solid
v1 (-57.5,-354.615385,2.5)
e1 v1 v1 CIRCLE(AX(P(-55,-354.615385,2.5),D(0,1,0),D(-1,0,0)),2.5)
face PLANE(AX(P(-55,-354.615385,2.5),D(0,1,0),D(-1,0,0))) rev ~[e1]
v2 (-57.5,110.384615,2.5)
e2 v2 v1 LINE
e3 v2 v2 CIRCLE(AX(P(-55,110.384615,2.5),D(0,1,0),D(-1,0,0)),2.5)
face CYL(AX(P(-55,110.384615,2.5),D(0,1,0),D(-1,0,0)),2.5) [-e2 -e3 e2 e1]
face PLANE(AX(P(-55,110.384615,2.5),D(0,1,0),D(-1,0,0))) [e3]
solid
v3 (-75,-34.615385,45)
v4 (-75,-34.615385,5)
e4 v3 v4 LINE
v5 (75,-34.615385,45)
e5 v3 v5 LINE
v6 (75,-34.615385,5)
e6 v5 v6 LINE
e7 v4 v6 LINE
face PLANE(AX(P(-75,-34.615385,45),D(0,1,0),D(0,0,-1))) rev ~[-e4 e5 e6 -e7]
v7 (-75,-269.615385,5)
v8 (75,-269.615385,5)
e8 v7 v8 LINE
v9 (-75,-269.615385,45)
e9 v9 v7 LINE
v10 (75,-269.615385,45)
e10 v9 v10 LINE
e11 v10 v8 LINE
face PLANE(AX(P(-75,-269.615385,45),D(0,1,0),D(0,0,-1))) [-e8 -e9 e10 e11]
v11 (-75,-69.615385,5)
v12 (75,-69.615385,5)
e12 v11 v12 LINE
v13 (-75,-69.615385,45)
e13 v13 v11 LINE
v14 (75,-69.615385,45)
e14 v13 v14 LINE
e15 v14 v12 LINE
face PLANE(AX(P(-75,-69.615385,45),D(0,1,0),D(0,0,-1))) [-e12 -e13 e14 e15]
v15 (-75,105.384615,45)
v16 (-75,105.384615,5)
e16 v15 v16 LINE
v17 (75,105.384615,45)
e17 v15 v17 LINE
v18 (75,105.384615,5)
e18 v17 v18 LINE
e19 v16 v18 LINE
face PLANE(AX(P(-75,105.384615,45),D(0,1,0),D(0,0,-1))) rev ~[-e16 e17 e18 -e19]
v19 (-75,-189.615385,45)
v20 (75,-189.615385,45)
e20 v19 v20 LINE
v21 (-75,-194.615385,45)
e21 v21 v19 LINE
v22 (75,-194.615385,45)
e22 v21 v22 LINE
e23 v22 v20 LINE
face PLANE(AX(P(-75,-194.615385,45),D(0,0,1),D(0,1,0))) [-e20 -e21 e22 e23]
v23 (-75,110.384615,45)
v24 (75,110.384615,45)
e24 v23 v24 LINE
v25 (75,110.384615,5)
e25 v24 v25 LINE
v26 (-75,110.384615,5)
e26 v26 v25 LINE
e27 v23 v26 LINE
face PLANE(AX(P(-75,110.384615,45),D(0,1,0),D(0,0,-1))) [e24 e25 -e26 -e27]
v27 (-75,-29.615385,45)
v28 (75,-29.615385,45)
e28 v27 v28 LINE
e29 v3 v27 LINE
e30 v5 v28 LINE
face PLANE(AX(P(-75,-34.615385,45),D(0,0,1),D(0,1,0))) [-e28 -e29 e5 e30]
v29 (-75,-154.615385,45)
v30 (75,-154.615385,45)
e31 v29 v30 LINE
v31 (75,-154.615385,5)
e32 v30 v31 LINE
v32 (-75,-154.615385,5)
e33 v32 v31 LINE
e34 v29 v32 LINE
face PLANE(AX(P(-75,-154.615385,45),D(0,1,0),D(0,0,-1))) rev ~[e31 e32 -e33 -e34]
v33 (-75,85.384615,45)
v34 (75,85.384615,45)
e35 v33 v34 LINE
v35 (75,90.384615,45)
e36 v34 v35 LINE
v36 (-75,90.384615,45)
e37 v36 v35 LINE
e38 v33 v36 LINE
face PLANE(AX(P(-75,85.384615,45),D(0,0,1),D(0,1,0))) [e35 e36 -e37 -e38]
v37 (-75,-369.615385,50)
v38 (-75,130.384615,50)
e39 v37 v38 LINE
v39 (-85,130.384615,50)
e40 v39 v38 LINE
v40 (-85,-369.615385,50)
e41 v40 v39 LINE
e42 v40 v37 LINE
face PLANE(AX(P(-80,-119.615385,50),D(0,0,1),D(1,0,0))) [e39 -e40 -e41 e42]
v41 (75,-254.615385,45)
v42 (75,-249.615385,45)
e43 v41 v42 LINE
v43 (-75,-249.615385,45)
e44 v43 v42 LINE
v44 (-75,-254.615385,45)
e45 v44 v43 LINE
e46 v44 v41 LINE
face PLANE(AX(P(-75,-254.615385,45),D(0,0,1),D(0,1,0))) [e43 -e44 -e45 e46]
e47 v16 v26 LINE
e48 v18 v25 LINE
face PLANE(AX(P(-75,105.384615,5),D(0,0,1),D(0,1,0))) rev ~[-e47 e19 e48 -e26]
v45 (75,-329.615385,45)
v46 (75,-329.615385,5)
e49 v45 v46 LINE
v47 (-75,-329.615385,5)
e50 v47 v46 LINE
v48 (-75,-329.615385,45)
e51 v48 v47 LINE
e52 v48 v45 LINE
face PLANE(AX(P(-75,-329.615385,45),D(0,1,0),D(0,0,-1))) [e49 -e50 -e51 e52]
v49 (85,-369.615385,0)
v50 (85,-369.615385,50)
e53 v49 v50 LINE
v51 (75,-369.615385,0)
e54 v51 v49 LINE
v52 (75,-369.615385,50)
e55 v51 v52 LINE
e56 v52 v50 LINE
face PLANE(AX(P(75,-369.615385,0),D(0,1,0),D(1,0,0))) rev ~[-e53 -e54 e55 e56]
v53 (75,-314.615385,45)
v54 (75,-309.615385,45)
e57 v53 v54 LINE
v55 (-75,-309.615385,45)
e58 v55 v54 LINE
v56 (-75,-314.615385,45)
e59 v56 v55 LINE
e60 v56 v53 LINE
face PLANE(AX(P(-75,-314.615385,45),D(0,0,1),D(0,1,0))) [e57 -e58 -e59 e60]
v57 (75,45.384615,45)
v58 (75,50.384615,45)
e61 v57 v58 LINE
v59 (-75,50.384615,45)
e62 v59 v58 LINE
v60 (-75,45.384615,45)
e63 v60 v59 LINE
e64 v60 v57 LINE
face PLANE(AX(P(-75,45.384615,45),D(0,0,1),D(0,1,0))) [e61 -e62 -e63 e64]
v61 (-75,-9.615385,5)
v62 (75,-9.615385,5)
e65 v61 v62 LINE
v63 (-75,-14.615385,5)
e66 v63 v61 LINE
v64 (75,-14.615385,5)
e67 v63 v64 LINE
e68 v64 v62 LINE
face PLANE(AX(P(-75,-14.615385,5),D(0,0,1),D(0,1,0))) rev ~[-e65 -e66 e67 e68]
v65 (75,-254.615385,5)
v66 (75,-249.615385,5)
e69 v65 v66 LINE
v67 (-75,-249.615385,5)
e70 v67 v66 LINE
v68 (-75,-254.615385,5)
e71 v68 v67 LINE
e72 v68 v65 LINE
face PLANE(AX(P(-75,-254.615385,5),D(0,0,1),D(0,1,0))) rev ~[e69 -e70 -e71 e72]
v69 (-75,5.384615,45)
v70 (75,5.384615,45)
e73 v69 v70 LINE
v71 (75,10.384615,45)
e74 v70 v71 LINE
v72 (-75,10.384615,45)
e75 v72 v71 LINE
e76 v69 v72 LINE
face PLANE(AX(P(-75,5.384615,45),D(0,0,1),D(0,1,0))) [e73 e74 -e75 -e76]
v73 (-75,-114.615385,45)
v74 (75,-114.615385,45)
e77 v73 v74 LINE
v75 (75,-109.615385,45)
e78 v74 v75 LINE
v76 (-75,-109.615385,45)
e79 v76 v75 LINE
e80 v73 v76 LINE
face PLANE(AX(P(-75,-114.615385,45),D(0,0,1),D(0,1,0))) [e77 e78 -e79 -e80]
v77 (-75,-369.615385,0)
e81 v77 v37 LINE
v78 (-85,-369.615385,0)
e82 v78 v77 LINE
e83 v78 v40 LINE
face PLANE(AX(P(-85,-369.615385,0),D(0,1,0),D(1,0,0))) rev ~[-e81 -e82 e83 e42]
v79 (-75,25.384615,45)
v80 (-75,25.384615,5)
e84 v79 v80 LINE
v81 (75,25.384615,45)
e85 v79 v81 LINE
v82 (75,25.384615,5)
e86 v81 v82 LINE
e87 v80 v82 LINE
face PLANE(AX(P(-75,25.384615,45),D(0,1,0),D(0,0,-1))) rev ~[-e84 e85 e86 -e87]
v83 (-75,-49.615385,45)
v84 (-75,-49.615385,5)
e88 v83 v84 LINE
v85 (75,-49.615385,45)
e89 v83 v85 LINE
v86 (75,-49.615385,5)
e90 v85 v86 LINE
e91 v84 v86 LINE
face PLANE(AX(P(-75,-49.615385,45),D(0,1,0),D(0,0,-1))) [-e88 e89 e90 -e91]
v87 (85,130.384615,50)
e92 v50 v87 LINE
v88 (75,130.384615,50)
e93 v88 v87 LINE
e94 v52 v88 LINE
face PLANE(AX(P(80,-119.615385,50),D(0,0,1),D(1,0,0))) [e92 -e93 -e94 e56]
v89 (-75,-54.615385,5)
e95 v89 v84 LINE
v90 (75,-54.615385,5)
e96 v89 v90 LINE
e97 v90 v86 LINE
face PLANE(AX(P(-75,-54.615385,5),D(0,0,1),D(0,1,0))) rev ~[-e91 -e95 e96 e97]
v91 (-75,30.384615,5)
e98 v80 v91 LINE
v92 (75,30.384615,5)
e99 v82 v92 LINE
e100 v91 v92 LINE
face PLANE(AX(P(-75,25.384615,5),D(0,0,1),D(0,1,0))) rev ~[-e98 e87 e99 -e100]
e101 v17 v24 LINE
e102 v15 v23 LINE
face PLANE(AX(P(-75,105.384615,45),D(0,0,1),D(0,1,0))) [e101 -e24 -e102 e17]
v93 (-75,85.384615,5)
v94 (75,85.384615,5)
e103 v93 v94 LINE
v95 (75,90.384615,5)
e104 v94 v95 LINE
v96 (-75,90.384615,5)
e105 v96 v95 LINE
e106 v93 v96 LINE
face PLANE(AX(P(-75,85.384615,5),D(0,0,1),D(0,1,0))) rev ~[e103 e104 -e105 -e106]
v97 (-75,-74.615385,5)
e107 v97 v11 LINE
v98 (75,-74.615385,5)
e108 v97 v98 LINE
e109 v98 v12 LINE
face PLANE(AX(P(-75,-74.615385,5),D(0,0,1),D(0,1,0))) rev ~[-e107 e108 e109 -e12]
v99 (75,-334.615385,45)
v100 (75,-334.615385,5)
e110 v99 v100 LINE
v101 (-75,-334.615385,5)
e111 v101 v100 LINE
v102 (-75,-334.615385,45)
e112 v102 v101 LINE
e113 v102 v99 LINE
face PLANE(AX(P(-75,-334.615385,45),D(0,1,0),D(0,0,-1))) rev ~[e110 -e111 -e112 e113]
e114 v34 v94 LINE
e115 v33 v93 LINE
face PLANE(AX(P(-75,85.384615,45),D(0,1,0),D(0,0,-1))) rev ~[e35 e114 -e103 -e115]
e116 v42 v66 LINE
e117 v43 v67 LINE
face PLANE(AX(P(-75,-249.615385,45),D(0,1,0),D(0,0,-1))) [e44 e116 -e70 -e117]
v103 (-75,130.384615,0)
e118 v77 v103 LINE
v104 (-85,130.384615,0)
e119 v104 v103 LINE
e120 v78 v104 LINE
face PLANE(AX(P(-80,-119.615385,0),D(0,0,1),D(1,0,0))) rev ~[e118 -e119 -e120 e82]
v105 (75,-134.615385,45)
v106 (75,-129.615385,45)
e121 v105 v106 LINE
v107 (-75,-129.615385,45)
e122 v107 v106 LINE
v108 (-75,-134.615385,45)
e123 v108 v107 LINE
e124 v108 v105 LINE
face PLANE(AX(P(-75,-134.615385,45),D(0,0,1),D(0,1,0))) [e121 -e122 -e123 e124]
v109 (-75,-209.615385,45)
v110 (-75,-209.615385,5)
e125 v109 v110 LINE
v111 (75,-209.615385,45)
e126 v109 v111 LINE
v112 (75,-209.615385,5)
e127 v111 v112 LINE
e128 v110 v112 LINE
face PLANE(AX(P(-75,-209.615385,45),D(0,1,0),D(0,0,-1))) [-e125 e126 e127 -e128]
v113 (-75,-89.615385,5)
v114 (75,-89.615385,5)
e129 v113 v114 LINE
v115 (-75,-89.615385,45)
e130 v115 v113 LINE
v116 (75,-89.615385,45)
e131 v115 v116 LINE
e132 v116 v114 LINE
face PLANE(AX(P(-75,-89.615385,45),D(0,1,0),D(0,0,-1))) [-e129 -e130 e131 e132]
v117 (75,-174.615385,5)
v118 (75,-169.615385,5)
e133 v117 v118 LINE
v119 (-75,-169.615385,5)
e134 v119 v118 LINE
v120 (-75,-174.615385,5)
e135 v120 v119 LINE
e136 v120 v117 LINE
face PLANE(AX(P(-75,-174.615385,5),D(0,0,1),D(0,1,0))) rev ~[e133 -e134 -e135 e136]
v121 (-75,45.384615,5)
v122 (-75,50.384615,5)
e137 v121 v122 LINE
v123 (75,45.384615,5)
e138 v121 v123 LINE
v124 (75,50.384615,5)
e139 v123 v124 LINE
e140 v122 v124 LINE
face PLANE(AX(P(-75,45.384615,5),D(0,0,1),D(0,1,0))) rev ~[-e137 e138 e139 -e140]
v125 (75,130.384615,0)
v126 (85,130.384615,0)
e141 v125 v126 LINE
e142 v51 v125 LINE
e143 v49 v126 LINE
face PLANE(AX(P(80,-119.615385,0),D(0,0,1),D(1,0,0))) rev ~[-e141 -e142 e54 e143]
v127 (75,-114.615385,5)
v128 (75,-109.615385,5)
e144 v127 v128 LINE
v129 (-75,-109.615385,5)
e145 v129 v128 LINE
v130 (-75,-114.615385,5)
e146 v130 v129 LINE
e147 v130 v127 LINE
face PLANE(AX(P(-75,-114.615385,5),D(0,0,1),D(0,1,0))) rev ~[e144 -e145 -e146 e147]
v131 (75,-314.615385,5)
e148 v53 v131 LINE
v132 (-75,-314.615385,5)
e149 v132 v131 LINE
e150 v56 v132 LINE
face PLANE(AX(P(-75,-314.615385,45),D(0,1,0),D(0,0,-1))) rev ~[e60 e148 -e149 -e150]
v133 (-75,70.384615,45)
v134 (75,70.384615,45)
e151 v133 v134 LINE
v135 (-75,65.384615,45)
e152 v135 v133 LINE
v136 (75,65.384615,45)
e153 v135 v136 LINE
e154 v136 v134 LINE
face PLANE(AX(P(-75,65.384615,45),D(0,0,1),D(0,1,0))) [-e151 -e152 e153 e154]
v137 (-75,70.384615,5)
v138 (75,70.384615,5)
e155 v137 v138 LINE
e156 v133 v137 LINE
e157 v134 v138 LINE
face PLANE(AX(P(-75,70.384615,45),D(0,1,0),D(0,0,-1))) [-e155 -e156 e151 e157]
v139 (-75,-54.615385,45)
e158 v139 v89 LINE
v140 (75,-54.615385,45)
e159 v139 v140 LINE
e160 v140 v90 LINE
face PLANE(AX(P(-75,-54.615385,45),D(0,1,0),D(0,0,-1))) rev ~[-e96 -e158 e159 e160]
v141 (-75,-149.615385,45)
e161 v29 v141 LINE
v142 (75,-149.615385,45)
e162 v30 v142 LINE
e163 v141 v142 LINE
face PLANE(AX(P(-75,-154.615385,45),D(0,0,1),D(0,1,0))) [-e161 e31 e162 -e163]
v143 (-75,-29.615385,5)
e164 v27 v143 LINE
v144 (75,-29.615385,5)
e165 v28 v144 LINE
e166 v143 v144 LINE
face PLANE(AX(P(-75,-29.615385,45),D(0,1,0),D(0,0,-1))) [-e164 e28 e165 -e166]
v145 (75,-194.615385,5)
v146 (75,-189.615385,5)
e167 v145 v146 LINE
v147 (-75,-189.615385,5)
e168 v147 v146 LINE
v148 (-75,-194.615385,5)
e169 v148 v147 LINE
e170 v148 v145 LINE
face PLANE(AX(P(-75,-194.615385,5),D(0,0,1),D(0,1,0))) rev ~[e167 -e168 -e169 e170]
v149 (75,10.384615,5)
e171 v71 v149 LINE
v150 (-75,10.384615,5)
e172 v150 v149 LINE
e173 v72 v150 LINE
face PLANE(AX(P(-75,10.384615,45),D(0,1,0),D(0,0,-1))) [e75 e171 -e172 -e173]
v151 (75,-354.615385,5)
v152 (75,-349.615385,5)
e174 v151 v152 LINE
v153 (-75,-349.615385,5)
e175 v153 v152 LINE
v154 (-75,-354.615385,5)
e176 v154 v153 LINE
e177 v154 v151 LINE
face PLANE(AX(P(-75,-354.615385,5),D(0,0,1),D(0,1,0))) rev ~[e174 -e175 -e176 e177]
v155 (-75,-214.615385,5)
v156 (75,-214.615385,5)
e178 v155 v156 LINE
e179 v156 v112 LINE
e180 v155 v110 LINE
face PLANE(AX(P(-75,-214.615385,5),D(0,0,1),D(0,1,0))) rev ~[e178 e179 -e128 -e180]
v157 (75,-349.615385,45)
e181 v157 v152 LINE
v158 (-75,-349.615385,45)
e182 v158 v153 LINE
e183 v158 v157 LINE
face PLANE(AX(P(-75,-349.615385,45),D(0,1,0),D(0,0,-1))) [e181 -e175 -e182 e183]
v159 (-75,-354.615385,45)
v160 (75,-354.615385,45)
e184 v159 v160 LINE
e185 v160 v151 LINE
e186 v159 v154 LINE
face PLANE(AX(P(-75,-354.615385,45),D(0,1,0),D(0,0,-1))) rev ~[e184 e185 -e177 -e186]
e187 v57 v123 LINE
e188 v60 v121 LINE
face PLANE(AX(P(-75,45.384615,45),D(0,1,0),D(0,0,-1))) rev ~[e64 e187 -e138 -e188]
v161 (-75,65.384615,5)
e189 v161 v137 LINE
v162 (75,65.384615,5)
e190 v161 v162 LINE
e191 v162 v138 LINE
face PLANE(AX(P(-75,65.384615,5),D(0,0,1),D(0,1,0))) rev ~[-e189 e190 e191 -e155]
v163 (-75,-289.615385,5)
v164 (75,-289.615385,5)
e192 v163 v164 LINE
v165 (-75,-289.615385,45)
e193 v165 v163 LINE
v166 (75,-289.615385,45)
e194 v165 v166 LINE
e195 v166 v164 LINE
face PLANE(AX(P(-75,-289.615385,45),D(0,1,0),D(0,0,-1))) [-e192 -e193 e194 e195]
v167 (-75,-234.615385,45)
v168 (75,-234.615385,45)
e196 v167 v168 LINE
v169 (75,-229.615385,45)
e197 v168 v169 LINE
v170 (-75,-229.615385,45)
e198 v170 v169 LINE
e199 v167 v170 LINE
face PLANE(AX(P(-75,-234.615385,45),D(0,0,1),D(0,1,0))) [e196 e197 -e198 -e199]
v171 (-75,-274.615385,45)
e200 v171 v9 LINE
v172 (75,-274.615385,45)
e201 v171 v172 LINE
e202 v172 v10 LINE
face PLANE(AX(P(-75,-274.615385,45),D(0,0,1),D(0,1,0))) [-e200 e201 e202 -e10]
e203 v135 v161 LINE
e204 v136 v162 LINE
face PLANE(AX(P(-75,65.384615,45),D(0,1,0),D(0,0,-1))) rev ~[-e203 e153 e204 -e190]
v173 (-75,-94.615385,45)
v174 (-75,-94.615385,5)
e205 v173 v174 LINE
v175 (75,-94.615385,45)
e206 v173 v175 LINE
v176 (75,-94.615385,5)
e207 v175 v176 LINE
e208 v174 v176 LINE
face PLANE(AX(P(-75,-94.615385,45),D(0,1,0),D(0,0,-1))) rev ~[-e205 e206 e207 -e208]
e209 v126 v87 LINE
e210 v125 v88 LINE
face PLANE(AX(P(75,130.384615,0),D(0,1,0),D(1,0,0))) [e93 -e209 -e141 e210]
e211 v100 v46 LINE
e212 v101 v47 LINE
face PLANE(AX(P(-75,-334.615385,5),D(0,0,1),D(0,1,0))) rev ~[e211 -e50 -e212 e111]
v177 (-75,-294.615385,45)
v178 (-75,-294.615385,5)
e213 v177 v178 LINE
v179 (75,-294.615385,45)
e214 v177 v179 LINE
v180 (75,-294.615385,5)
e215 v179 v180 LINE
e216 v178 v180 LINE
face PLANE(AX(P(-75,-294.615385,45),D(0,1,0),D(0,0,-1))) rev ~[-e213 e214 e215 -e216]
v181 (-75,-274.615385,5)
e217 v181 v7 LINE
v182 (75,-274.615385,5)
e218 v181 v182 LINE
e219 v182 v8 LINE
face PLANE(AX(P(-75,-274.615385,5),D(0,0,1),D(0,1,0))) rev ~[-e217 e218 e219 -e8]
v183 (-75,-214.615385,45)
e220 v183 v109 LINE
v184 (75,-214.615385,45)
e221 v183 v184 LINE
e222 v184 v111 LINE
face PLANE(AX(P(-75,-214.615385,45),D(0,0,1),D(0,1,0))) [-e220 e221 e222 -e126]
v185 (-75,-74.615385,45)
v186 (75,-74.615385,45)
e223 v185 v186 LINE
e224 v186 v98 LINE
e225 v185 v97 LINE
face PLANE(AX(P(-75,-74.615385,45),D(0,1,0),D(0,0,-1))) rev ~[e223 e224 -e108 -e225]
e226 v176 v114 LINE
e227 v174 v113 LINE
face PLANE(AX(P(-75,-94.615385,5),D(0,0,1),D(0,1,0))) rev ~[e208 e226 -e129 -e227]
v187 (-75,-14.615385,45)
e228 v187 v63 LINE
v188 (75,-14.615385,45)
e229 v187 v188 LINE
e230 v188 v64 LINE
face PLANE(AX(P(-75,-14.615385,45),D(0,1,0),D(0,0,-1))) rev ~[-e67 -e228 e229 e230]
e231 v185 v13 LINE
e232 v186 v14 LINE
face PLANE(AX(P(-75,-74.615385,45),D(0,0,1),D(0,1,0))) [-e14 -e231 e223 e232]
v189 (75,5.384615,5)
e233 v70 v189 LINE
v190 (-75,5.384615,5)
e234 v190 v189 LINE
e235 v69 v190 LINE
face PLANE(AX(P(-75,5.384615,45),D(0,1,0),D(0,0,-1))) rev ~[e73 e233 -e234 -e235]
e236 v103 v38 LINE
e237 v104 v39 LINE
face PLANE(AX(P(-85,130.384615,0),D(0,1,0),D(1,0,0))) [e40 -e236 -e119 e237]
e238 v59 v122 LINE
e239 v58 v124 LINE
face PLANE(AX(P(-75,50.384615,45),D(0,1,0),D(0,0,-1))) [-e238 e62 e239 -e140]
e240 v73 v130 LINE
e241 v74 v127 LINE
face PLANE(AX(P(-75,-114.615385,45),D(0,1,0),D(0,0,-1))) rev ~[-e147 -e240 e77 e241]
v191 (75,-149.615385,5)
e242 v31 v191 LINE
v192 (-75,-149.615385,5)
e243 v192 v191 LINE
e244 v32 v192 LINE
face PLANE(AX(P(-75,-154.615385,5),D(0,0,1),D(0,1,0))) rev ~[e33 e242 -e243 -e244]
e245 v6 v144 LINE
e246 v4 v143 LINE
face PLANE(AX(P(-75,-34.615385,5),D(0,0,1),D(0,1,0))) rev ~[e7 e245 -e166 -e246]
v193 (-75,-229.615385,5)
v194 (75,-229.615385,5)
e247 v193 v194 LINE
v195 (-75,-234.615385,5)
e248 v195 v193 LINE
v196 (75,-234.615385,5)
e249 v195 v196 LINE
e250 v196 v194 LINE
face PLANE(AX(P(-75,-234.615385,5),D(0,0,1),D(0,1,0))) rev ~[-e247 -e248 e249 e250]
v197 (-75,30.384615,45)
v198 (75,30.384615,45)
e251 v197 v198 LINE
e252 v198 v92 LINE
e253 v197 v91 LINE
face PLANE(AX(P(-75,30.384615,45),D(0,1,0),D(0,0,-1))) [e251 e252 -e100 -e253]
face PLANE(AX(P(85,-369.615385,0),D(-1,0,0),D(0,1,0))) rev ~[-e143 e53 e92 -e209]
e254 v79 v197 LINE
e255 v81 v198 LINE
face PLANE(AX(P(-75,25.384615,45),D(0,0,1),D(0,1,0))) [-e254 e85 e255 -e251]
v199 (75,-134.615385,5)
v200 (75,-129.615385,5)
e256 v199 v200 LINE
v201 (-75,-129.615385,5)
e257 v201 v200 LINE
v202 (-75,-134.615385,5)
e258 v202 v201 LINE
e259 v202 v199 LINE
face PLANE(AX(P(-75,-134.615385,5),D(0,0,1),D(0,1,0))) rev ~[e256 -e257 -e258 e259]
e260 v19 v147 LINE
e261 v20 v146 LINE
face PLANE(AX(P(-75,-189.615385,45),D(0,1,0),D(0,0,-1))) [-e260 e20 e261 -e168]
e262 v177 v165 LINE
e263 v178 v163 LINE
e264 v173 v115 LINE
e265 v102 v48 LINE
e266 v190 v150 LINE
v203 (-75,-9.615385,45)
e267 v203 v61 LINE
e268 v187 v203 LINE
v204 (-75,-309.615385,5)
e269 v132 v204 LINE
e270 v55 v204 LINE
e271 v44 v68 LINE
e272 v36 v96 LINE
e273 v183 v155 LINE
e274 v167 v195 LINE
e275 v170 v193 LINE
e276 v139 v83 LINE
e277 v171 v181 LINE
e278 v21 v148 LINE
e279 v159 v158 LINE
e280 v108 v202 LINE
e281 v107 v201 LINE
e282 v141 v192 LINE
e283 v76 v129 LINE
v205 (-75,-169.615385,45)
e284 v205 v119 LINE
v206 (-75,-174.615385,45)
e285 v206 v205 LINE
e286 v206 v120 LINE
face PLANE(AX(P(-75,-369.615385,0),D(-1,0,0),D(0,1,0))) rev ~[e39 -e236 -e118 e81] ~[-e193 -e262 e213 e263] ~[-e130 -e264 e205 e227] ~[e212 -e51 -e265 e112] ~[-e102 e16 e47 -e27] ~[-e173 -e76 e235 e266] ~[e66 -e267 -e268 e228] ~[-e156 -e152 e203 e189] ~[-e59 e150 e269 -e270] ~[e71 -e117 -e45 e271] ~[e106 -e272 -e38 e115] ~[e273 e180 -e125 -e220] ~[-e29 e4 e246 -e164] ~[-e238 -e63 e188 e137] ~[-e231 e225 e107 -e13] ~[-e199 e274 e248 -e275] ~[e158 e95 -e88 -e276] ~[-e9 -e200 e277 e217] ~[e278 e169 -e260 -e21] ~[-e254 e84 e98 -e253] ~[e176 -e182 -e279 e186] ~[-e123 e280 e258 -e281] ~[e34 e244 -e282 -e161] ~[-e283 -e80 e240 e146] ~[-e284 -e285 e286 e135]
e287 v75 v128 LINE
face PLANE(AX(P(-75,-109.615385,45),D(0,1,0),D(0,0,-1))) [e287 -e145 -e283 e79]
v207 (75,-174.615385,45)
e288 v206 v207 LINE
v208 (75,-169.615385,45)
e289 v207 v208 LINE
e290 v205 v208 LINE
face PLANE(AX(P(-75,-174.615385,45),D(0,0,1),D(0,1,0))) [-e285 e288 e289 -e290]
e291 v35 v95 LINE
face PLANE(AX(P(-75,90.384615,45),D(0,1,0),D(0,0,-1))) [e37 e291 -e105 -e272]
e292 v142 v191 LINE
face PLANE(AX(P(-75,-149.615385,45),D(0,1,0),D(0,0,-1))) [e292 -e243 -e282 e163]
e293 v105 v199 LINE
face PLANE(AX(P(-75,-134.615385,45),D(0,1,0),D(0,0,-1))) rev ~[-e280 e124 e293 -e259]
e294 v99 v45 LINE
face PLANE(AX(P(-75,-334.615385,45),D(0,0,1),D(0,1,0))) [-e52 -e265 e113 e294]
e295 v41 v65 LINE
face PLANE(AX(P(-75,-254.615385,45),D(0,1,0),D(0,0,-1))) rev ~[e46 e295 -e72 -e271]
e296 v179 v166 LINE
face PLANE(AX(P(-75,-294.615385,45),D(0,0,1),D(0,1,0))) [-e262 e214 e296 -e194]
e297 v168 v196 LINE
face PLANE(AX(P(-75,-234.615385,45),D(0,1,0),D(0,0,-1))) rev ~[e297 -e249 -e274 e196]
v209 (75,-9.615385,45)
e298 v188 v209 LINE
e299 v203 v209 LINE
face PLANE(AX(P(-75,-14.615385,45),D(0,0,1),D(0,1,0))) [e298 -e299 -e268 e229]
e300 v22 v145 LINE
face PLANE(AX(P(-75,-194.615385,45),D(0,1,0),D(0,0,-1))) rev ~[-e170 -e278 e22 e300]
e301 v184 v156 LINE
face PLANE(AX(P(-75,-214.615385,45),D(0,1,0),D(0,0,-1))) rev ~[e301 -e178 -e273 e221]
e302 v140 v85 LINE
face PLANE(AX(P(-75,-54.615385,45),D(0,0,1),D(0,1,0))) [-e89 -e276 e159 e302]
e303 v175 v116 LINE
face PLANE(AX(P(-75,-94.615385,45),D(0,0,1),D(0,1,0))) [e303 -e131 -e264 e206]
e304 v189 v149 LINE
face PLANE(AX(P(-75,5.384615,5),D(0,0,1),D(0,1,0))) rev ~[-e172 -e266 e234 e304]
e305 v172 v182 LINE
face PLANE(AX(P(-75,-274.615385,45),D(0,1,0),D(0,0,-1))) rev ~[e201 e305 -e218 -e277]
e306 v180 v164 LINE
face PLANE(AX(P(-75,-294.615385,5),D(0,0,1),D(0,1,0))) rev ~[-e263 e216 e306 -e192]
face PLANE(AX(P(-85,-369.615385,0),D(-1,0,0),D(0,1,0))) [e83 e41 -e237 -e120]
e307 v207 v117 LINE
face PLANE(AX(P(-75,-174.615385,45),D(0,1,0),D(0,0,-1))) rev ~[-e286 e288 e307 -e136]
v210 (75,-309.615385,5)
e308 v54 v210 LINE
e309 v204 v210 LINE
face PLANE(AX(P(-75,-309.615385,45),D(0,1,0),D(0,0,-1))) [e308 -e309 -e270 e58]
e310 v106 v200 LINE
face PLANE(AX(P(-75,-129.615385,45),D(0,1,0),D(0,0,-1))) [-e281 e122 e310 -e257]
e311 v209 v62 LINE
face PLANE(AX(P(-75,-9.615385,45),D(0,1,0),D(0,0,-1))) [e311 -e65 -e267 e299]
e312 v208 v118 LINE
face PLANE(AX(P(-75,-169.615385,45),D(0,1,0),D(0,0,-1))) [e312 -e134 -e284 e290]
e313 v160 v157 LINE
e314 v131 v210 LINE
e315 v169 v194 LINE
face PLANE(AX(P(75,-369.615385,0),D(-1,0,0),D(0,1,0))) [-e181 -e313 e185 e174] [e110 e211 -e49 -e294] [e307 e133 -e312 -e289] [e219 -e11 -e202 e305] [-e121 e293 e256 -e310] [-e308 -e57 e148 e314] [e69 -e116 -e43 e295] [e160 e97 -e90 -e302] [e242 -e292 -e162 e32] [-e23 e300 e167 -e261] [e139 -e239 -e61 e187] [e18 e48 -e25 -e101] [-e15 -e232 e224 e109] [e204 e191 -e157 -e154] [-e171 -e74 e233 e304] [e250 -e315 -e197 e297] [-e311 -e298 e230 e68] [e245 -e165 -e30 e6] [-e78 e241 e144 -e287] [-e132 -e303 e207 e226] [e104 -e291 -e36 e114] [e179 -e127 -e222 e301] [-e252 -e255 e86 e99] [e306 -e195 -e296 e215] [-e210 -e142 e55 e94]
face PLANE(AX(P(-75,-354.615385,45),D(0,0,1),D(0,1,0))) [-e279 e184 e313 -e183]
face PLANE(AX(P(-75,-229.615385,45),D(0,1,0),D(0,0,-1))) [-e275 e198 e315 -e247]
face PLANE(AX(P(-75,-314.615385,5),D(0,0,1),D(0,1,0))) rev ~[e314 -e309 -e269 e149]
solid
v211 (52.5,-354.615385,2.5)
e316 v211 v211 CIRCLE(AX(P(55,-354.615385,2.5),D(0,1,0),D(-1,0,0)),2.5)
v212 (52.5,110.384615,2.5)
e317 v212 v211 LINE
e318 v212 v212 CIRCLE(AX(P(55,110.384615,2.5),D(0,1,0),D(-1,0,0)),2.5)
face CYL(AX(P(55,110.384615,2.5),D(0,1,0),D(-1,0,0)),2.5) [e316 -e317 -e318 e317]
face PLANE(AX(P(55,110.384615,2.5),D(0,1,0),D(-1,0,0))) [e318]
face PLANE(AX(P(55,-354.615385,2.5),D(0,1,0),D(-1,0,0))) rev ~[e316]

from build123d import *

# Parameters (mm, degrees)
SKETCH1_W             = 10
SKETCH1_H             = 500
BOSS_EXTRUDE1_DEPTH   = 50
BOSS_EXTRUDE1_2_DEPTH = 50
SKETCH2_W             = 40
SKETCH2_H             = 5
BOSS_EXTRUDE2_DEPTH   = 160
LPATTERN1_COUNT       = 24
LPATTERN1_PITCH       = 20
SKETCH4_R             = 2.5
BOSS_EXTRUDE3_DEPTH   = 465
BOSS_EXTRUDE3_2_DEPTH = 465


with BuildPart() as part:
    # Sketch1 → Boss-Extrude1 (new body)
    with BuildSketch(Plane.XY):
        with Locations((-80, -119.615384615)):
            Rectangle(SKETCH1_W, SKETCH1_H)
    extrude(amount=BOSS_EXTRUDE1_DEPTH)



with BuildPart() as body_2:
    # Sketch1 → Boss-Extrude1 2 (new body)
    with BuildSketch(Plane.XY):
        with Locations((80, -119.615384615)):
            Rectangle(SKETCH1_W, SKETCH1_H)
    extrude(amount=BOSS_EXTRUDE1_2_DEPTH)


with BuildPart() as part_1:
    add(part.part)

    add(body_2.part)  # Boss-Extrude2 merges body 2
    # Sketch2 → Boss-Extrude2 (add)
    with BuildSketch(Plane(origin=(-75, 0, 0), x_dir=(0, 0, -1), z_dir=(1, 0, 0))):
        with Locations((-25, 107.884615385)):
            Rectangle(SKETCH2_W, SKETCH2_H)
    boss_extrude2 = extrude(amount=BOSS_EXTRUDE2_DEPTH)

    # LPattern1: Boss-Extrude2 ×24
    with Locations(*[(0, -i * LPATTERN1_PITCH, 0) for i in range(1, LPATTERN1_COUNT)]):
        add(boss_extrude2)


with BuildPart() as body_2_2:
    # Sketch4 → Boss-Extrude3 (new body)
    with BuildSketch(Plane(origin=(0, 110.384615385, 0), x_dir=(1, 0, 0), z_dir=(0, 1, 0))):
        with Locations(Location((-55, -2.5, 0), (0, 0, 180))):
            Circle(SKETCH4_R)
    extrude(amount=-BOSS_EXTRUDE3_DEPTH)


with BuildPart() as body_3:
    # Sketch4 → Boss-Extrude3 2 (new body)
    with BuildSketch(Plane(origin=(0, 110.384615385, 0), x_dir=(1, 0, 0), z_dir=(0, 1, 0))):
        with Locations(Location((55, -2.5, 0), (0, 0, 180))):
            Circle(SKETCH4_R)
    extrude(amount=-BOSS_EXTRUDE3_2_DEPTH)


solid = Compound([part_1.part, body_2_2.part, body_3.part])
